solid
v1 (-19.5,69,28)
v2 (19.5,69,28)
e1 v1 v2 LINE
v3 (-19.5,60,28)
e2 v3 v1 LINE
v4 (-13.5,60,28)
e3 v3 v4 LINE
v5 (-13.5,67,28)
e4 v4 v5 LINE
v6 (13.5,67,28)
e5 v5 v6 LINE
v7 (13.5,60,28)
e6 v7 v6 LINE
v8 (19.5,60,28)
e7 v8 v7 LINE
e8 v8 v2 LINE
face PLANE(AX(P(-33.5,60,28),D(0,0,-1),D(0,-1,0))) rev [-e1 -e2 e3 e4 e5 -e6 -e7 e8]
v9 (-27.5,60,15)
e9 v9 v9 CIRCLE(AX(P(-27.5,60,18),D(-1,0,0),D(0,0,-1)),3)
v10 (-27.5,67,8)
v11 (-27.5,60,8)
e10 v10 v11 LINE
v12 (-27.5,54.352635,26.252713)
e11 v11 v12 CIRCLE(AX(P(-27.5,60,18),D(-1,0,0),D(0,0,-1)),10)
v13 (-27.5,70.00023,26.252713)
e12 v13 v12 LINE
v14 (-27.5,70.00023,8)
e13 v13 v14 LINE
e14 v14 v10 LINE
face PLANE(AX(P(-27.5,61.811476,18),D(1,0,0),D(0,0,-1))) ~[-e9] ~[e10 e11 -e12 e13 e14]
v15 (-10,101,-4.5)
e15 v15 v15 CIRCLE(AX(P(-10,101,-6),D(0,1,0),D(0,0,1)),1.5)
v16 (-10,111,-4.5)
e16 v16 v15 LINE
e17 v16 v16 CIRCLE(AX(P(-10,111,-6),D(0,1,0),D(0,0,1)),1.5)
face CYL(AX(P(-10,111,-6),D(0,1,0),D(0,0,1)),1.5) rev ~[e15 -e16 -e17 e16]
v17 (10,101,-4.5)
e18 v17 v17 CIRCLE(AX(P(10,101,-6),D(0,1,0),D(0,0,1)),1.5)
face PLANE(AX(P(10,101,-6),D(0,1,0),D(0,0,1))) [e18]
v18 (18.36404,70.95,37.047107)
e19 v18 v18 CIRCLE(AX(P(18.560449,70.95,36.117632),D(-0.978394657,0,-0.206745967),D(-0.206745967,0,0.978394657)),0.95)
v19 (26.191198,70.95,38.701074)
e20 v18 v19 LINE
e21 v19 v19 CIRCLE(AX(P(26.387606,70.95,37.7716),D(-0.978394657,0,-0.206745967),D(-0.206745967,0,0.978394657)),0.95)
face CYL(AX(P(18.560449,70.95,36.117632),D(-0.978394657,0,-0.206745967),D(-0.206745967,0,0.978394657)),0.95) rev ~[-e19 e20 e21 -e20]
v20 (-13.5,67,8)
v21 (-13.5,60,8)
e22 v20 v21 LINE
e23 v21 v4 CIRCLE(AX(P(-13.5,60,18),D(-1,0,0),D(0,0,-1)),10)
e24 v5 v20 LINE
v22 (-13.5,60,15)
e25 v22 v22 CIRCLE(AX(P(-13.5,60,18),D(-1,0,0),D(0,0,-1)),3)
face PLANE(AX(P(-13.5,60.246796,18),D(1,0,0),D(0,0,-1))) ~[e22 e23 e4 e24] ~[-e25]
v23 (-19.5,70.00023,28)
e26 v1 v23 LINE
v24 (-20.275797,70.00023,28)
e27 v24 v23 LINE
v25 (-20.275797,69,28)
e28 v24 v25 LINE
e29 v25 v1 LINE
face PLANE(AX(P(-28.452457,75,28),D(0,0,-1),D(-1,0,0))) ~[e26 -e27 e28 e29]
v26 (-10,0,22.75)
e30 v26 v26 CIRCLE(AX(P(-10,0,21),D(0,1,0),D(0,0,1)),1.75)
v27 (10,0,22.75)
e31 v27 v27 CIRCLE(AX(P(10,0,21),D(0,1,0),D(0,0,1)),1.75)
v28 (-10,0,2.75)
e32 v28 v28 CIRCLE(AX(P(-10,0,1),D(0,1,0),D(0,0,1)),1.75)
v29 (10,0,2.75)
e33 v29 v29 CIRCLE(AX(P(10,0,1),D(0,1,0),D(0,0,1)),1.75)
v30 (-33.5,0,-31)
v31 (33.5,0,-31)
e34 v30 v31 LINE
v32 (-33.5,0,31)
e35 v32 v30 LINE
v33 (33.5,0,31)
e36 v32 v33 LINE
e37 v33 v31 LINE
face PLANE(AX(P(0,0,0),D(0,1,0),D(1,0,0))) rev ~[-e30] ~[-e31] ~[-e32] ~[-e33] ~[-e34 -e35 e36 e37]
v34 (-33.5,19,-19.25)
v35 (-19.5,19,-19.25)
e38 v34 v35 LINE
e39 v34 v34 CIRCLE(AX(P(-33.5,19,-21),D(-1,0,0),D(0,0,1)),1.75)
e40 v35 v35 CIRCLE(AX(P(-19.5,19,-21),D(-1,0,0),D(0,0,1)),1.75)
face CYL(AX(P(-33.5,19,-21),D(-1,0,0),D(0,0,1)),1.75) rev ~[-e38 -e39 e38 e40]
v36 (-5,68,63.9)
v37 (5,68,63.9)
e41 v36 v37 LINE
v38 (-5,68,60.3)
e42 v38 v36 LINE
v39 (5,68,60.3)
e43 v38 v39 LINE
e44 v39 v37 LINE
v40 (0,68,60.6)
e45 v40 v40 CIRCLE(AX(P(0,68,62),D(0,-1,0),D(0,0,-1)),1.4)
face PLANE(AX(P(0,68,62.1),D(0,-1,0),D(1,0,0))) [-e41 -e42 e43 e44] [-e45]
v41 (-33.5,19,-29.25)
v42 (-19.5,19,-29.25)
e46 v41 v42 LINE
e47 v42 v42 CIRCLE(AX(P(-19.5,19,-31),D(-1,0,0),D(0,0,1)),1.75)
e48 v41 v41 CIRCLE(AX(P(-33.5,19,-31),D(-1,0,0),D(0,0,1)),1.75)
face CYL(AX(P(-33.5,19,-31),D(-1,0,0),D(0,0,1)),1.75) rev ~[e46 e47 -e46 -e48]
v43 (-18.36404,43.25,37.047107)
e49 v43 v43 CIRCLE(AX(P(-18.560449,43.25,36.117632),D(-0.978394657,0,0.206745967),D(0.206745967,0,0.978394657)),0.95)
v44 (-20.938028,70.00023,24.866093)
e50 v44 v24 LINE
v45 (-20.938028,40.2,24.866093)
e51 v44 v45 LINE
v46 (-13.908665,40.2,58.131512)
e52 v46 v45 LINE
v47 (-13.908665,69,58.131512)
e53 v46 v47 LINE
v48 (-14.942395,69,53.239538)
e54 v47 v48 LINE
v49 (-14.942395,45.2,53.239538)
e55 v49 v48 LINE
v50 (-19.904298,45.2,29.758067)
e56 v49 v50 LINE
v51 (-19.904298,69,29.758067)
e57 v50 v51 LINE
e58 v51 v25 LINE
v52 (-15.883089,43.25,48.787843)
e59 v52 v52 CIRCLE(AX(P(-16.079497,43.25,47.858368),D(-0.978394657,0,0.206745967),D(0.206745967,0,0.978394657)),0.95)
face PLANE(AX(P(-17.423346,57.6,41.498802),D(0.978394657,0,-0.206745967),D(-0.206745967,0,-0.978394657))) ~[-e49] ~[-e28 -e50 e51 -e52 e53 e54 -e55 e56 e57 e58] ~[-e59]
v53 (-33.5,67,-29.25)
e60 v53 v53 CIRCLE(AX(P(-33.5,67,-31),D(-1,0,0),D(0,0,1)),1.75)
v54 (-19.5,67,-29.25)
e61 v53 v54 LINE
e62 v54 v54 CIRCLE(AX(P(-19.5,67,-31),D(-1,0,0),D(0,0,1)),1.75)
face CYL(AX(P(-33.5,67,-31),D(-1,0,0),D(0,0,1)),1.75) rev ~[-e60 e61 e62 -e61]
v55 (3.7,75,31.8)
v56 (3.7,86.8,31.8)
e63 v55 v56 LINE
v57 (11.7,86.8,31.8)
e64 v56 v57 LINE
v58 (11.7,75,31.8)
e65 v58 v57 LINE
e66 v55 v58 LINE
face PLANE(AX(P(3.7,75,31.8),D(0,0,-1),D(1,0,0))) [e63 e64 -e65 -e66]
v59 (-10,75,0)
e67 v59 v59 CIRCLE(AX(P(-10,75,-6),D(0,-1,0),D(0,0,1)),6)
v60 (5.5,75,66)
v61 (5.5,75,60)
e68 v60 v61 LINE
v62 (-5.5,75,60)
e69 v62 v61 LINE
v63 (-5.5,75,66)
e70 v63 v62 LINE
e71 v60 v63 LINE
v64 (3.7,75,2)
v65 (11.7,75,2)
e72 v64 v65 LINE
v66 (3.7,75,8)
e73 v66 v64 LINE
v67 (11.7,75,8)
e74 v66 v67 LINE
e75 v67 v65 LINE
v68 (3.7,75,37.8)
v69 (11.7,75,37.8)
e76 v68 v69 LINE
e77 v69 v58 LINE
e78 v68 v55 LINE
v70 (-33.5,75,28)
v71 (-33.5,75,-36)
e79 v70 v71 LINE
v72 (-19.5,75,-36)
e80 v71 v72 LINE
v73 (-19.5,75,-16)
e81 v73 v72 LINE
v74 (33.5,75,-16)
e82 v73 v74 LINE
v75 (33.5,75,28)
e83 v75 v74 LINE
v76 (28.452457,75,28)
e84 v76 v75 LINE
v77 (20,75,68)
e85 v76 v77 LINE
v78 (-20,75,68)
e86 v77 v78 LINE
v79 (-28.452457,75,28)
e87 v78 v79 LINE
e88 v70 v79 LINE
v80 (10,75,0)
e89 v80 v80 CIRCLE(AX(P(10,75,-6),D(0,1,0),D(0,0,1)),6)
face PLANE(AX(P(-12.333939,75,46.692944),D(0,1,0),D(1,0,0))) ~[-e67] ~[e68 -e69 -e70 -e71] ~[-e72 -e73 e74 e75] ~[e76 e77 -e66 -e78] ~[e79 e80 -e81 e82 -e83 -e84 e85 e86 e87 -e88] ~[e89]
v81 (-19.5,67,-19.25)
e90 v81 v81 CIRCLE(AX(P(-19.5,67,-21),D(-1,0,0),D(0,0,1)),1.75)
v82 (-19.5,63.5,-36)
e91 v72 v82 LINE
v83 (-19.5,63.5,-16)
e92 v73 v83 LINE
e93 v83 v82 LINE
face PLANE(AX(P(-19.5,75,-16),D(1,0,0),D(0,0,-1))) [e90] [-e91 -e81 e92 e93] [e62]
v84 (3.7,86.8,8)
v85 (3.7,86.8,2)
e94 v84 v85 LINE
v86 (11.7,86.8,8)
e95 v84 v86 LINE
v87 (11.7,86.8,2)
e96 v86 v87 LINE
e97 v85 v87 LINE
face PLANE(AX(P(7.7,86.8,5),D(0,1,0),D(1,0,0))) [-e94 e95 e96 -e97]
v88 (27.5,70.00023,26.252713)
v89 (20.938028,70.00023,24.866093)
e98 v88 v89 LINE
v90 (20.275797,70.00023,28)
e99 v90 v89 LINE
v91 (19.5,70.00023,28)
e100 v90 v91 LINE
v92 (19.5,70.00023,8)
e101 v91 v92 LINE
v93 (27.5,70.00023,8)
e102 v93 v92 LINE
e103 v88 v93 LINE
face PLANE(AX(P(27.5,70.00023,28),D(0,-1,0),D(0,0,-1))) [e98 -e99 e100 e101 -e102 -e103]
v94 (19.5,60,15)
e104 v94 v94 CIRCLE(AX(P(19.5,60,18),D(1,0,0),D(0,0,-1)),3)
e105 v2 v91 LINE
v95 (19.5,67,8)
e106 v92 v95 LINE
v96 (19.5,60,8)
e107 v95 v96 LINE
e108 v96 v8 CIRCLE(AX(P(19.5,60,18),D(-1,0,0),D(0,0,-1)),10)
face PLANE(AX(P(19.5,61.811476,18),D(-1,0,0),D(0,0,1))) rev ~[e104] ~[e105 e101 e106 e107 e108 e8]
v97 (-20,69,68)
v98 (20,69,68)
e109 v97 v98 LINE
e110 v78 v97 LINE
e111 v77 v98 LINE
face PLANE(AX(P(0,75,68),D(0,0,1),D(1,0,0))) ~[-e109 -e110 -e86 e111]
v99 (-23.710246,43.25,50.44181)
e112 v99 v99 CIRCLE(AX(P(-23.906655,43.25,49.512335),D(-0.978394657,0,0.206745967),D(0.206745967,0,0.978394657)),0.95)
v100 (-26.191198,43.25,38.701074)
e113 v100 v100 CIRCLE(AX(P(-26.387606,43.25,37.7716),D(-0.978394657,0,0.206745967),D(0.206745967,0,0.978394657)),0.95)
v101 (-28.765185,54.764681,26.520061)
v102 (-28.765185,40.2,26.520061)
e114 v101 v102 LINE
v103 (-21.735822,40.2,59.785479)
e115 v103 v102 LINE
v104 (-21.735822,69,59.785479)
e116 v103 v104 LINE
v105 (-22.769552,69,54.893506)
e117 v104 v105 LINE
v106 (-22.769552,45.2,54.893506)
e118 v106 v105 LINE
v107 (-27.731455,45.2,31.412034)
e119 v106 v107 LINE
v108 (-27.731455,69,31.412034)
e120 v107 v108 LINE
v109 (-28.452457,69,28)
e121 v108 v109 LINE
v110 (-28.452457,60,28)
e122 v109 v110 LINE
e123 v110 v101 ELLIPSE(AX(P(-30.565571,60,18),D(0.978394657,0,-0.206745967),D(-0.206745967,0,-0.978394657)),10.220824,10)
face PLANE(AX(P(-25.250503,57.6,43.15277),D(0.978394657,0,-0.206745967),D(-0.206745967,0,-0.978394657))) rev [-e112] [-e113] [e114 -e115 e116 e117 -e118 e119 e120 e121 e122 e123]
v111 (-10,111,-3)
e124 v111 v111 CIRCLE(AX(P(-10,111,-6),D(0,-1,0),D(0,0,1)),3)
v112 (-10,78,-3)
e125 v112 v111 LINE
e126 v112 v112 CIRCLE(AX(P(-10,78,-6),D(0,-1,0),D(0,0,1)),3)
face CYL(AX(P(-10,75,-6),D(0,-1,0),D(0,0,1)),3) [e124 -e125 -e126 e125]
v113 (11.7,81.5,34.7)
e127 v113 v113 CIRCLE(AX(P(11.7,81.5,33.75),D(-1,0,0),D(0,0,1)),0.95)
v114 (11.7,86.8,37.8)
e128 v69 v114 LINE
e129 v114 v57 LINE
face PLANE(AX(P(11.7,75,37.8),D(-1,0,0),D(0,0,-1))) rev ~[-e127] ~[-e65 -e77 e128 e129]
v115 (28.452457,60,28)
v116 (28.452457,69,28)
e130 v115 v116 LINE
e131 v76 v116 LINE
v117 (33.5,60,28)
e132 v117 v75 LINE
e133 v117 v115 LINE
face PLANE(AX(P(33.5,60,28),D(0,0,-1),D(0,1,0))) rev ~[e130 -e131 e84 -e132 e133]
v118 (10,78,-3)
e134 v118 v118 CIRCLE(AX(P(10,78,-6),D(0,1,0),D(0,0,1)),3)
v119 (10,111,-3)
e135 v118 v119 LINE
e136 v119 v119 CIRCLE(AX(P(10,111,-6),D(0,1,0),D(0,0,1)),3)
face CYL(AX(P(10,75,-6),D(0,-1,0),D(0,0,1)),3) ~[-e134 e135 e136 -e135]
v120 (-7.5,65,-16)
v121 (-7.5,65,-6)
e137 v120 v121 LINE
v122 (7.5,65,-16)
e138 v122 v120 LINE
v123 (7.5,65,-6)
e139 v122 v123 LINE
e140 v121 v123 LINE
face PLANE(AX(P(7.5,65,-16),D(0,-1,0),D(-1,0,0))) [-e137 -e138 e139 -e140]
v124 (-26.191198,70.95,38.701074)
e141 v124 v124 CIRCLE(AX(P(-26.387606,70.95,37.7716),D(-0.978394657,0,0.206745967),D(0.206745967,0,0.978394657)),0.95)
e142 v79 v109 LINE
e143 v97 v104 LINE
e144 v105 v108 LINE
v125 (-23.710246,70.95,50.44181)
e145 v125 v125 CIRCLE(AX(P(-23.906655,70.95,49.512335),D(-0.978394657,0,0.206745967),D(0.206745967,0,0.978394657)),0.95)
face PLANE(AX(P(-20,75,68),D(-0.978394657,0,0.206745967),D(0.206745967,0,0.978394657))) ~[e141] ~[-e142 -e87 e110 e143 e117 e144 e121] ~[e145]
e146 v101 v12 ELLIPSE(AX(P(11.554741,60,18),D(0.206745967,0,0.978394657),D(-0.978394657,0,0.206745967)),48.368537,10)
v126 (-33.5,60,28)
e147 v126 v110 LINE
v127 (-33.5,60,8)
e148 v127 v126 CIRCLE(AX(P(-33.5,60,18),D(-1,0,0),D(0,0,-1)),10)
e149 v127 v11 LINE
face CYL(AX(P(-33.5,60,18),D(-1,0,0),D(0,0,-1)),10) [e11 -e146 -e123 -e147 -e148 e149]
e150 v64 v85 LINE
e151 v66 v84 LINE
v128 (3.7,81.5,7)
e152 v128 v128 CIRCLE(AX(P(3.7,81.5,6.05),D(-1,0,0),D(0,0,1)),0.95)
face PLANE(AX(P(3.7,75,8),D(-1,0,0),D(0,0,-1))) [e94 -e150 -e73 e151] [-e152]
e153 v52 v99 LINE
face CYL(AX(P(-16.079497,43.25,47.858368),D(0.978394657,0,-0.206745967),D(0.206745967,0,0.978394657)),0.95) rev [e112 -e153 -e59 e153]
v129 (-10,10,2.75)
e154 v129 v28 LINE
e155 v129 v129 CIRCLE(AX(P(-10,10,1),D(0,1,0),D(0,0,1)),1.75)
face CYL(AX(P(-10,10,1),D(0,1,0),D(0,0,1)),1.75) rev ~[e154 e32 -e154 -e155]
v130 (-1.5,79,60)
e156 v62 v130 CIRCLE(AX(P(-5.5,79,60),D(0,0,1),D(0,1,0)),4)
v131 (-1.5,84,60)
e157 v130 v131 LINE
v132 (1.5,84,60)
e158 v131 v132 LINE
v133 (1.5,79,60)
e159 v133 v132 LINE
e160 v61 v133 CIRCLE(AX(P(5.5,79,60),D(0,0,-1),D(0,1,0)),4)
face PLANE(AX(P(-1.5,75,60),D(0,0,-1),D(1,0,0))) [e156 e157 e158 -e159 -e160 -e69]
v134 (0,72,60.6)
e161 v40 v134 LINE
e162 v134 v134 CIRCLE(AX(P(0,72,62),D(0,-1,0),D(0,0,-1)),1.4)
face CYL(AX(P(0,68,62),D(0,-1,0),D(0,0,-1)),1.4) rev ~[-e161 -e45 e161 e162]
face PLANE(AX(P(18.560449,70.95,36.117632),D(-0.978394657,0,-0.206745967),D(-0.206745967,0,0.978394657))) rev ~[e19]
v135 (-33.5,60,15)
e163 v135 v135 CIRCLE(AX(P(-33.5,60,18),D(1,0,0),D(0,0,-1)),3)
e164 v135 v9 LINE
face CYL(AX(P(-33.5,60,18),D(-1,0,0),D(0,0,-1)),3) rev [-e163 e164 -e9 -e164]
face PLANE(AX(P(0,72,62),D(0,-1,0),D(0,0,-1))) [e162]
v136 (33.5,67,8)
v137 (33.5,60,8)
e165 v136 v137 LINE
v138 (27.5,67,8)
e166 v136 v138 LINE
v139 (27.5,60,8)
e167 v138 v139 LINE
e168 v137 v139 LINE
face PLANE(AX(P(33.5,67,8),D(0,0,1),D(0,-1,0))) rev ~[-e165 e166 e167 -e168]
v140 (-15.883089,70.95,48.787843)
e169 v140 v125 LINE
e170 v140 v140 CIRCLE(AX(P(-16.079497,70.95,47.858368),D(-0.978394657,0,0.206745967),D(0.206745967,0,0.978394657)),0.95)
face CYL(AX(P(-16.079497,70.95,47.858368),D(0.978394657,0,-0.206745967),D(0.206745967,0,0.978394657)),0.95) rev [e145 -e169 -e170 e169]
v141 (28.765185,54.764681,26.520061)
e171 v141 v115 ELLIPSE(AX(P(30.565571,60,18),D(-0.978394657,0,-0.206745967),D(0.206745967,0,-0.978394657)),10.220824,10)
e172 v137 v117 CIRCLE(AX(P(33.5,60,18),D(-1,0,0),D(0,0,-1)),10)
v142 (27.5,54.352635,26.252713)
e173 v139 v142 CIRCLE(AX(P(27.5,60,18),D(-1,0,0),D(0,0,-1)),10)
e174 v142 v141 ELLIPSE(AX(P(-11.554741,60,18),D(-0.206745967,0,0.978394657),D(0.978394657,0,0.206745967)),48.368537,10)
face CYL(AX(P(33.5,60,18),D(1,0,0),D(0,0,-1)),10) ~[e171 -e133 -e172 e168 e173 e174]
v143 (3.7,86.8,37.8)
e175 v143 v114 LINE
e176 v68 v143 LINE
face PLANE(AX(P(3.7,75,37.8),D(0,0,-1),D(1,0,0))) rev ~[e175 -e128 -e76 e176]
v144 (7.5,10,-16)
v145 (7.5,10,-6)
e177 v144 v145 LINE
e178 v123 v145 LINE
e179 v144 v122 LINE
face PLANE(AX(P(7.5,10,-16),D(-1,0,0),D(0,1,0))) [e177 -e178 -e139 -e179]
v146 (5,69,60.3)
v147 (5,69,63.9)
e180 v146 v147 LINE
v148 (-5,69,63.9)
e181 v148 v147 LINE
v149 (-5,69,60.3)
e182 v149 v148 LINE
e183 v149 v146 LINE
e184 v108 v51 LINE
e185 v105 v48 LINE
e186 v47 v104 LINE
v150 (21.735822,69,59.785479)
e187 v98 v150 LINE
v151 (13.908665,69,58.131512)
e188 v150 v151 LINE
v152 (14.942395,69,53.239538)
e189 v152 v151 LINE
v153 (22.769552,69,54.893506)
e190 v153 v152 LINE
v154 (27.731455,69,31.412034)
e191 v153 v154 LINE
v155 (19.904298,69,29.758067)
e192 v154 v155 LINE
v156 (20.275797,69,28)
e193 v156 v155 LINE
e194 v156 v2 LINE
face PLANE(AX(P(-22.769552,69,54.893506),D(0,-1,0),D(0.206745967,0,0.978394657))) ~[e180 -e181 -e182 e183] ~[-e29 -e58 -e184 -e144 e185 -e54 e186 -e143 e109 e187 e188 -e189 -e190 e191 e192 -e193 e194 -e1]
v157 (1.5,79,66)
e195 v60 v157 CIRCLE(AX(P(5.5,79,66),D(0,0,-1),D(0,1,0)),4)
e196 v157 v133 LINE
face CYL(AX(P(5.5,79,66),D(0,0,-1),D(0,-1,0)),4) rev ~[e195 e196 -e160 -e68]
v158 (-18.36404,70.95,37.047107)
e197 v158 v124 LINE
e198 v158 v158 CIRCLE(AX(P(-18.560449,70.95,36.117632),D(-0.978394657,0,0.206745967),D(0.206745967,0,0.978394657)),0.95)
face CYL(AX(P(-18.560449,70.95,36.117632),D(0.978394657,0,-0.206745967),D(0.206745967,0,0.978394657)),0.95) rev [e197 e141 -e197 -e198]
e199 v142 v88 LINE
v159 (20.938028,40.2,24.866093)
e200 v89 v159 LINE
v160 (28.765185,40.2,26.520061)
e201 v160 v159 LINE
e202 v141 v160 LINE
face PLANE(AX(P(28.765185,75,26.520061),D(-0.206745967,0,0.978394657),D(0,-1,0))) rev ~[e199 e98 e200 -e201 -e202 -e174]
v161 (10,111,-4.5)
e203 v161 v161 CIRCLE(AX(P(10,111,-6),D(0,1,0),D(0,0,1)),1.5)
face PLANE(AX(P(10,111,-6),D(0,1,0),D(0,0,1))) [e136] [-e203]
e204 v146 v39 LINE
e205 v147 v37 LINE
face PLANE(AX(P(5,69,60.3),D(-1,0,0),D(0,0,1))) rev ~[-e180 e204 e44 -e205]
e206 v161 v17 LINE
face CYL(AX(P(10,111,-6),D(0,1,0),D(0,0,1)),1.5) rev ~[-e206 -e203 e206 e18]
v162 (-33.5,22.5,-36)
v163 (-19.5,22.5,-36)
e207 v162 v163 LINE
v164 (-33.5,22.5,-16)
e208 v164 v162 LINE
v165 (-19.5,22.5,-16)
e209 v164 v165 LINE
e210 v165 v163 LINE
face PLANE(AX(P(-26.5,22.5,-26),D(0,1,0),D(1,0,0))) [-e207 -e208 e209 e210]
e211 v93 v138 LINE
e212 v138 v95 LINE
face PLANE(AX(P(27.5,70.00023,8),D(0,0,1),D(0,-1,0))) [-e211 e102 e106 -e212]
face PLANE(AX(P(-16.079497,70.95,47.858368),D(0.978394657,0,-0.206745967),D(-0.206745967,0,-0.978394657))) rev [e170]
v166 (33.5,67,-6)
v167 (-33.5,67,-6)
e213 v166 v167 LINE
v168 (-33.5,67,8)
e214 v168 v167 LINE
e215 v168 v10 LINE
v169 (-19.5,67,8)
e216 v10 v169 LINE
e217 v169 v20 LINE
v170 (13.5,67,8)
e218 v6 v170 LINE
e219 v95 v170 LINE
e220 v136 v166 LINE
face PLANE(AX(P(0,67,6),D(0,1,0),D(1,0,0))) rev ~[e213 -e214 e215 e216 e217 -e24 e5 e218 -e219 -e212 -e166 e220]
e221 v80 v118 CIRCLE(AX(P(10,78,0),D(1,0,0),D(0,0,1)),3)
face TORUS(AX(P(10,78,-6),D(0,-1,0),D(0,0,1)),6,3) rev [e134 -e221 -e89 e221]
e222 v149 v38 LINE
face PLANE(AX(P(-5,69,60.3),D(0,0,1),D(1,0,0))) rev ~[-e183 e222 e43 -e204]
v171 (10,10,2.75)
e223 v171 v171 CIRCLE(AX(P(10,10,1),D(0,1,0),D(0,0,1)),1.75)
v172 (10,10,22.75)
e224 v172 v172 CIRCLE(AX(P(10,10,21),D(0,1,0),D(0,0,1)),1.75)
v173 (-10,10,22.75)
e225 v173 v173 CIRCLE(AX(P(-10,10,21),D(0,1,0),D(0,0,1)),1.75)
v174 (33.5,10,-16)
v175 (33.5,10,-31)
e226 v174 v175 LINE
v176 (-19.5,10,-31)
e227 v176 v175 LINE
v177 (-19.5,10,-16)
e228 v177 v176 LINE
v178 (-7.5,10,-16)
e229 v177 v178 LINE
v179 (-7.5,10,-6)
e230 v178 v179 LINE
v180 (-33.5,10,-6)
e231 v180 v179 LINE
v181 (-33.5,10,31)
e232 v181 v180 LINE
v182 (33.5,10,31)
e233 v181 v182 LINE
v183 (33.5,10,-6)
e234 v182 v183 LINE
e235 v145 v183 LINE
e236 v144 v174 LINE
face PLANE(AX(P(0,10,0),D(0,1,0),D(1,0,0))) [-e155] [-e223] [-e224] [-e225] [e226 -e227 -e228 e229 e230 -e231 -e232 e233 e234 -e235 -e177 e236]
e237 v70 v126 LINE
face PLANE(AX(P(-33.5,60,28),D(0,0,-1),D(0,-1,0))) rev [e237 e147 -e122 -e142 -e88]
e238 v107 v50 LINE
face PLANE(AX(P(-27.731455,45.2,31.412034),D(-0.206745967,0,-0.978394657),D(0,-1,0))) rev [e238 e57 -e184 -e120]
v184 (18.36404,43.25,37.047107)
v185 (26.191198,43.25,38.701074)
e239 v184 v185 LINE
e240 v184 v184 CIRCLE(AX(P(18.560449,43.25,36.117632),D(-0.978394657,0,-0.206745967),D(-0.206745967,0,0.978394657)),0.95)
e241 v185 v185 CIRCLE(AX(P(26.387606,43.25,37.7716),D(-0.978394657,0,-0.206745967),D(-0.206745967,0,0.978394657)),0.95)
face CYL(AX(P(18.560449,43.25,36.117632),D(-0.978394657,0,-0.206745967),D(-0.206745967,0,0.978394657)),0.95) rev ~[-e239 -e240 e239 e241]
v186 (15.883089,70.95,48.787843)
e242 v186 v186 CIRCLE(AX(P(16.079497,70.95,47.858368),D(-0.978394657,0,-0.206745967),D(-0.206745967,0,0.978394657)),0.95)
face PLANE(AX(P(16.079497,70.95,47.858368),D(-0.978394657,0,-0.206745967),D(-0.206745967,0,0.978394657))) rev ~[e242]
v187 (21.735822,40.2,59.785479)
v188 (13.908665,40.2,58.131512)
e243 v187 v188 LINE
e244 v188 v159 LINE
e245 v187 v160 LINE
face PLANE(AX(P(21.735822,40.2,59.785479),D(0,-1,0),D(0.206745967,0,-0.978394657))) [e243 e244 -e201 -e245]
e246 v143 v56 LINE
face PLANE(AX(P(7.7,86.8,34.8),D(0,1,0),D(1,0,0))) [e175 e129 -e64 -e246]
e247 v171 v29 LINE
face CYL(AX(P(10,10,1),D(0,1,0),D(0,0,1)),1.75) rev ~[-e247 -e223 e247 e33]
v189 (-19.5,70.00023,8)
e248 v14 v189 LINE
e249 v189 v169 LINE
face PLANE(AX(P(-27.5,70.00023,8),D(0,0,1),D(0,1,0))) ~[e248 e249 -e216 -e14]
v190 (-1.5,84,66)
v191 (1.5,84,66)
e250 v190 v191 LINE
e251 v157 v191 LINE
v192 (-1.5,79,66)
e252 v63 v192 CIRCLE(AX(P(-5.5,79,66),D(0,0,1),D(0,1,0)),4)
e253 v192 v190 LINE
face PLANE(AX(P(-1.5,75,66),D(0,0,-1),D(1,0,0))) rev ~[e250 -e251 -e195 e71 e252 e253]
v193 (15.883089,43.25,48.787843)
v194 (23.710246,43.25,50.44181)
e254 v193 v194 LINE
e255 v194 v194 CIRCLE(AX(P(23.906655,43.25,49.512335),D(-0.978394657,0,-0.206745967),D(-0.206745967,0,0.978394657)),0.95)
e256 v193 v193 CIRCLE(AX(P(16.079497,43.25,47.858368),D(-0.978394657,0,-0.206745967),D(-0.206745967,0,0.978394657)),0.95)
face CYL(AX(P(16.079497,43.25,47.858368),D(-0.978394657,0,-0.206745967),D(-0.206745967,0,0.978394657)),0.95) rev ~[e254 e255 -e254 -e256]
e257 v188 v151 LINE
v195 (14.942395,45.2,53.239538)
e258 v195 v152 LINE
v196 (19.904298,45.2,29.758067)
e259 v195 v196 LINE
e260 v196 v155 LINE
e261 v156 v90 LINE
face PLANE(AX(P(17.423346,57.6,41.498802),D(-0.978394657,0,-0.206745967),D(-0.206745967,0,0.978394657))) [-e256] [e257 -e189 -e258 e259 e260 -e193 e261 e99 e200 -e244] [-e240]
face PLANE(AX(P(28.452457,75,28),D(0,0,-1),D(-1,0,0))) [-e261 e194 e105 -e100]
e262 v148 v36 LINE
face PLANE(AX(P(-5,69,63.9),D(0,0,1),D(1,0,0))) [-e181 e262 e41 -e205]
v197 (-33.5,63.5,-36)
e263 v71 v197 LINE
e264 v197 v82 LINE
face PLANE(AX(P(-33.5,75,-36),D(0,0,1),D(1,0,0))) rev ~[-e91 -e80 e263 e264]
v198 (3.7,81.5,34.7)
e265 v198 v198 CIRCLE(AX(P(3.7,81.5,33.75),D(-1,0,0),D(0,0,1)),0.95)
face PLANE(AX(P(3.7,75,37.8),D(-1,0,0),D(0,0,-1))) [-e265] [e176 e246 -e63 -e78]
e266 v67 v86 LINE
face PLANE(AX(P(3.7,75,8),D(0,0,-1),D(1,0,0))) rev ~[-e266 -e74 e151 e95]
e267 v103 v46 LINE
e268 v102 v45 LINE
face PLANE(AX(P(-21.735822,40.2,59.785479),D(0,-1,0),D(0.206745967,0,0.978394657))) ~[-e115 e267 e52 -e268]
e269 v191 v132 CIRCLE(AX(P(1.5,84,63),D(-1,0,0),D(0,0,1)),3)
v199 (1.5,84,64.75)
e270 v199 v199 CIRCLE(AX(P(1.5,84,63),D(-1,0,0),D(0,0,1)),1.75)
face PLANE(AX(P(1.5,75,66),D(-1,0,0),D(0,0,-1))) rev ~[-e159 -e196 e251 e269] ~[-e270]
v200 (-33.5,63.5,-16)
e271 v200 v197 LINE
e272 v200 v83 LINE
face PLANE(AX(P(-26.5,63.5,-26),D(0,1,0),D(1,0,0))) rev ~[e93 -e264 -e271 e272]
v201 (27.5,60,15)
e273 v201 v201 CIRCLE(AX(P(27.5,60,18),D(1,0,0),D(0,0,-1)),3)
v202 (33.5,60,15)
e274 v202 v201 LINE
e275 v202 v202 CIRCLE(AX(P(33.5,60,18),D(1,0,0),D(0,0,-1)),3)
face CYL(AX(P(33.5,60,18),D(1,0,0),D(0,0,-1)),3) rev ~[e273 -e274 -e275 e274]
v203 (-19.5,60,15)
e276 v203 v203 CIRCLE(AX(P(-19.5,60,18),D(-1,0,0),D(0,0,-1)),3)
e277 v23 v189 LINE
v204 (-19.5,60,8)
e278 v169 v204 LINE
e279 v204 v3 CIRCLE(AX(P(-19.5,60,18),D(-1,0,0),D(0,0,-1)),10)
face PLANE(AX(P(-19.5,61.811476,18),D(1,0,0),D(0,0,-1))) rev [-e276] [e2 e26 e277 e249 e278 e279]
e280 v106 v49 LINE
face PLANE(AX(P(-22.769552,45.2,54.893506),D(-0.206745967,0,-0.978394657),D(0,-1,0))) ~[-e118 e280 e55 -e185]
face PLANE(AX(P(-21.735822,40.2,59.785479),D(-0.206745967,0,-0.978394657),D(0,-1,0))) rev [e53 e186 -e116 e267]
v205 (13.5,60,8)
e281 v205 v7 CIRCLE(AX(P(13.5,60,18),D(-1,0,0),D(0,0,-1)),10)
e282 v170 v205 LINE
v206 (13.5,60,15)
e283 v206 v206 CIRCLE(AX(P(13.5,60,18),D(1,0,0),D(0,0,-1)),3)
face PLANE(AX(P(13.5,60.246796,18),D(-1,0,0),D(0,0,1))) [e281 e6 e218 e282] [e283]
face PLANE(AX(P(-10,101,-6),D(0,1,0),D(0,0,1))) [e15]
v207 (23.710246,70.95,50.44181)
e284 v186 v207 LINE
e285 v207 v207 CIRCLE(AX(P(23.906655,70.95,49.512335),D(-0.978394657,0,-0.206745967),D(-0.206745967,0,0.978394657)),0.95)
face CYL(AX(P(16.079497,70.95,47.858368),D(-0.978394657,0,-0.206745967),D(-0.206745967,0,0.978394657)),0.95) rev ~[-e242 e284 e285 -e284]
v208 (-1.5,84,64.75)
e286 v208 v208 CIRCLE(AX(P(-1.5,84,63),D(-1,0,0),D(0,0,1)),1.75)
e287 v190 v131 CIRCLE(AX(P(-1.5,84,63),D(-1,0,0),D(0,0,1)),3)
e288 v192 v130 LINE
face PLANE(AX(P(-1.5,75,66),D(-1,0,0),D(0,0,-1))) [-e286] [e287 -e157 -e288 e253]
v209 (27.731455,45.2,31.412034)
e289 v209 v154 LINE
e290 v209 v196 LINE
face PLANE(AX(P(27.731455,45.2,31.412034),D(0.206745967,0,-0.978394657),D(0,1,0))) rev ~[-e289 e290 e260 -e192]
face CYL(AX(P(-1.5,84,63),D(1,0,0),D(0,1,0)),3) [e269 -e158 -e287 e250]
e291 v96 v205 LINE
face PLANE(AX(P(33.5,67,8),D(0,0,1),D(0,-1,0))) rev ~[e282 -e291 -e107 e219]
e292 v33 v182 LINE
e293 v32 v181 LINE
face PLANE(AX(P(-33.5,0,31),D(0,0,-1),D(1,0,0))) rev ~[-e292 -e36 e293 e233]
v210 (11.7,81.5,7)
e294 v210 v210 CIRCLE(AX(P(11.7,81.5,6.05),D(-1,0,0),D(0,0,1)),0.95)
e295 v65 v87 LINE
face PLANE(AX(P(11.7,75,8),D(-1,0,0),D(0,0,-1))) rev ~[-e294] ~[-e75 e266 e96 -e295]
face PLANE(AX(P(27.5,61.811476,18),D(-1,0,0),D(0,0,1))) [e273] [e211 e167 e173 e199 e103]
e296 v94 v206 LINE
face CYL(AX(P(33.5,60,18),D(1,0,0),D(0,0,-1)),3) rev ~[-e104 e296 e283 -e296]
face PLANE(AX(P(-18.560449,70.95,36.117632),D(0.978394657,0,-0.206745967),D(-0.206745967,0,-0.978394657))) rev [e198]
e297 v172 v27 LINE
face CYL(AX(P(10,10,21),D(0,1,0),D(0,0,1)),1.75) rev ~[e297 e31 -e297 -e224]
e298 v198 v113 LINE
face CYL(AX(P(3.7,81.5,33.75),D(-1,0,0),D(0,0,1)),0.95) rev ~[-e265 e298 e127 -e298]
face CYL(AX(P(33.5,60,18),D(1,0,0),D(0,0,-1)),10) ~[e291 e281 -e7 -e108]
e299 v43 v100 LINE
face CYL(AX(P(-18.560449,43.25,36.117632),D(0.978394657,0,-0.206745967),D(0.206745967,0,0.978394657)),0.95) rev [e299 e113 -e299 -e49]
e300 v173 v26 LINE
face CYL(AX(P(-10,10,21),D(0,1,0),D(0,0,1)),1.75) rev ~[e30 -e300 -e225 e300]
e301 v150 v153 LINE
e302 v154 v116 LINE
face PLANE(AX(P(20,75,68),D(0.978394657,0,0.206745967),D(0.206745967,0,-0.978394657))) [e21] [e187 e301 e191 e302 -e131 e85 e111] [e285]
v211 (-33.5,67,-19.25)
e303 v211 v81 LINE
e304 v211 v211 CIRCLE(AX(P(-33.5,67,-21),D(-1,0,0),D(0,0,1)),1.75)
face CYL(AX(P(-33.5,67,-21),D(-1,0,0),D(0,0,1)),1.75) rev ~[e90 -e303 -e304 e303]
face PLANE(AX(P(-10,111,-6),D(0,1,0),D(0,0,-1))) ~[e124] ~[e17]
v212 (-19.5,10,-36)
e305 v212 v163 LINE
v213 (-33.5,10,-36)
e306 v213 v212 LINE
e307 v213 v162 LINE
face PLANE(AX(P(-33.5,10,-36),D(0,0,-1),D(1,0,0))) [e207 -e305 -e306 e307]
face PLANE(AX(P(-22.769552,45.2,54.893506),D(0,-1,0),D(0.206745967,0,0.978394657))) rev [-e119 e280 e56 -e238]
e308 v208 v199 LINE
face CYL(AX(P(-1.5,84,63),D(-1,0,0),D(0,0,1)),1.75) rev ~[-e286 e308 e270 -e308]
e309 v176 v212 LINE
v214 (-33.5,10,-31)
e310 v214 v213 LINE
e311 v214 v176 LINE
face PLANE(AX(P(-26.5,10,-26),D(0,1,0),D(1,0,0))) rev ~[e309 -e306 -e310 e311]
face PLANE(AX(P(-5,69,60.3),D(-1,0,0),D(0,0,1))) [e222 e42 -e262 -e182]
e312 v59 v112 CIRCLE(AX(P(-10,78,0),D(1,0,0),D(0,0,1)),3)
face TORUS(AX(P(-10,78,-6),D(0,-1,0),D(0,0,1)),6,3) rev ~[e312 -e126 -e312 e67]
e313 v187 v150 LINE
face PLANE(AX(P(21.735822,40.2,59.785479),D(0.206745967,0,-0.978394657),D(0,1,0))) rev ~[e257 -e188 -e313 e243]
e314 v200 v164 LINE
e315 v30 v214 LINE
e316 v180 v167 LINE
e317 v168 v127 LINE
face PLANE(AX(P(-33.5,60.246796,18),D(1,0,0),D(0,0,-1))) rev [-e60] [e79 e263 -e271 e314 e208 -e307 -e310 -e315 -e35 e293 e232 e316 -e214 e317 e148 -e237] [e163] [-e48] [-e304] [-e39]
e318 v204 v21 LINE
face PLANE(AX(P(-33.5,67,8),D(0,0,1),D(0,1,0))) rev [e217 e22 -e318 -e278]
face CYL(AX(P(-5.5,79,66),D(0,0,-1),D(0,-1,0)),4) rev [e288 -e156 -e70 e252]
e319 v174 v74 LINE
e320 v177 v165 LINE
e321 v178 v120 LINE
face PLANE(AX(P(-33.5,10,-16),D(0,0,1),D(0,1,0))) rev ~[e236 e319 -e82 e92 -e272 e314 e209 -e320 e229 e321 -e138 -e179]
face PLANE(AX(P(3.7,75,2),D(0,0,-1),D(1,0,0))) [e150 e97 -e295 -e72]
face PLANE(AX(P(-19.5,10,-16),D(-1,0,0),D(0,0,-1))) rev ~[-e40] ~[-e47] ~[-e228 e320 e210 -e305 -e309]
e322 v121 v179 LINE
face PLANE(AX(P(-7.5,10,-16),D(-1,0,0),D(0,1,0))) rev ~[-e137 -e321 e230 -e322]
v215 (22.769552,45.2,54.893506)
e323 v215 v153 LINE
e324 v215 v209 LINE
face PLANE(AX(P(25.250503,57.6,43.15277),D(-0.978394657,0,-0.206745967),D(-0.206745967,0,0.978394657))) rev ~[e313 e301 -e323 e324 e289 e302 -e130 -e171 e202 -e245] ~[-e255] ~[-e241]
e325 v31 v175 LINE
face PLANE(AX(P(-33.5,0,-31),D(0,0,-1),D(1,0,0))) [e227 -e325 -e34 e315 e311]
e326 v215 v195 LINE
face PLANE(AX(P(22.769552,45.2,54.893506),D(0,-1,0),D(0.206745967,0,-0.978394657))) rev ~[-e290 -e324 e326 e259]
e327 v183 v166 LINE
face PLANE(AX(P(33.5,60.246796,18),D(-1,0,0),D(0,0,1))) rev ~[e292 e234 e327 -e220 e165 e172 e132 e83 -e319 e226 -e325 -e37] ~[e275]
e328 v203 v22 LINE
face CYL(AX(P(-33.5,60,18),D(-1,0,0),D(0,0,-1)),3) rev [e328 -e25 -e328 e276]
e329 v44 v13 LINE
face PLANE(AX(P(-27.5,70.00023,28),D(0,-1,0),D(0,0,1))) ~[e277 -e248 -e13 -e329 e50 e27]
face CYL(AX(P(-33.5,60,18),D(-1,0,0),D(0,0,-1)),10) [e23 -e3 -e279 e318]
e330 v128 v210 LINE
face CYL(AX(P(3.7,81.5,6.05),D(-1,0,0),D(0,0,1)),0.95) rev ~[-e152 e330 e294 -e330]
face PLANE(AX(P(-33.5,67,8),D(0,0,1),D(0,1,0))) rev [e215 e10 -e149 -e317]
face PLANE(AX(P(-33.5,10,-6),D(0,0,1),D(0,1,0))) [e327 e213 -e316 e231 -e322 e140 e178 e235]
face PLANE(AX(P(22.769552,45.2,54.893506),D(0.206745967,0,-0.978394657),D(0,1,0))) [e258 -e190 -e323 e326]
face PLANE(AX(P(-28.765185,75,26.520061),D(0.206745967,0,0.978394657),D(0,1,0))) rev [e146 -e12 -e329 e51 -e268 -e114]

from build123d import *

# Parameters (mm, degrees)
SKETCH_1_W             = 67
SKETCH_1_H             = 62
EXTRUDE_1_DEPTH        = 10
SKETCH_3_W             = 14
SKETCH_3_H             = 20
EXTRUDE_2_DEPTH        = 12.5
SKETCH_4_W             = 10
SKETCH_4_H             = 65
EXTRUDE_3_DEPTH        = 67
SKETCH_5_W             = 67
SKETCH_5_H             = 44
EXTRUDE_4_DEPTH        = 8
EXTRUDE_5_DEPTH        = 20
CUT_EXTRUDE_START      = -6
CUT_EXTRUDE_1_DEPTH    = 8
EXTRUDE_6_DEPTH        = 6
SKETCH_9_R             = 3
CUT_EXTRUDE_2_DEPTH    = 23
SKETCH_10_W            = 24
SKETCH_10_H            = 23.8
EXTRUDE_7_DEPTH        = 8
SKETCH_12_W            = 14
SKETCH_12_H            = 20
EXTRUDE_8_DEPTH        = 11.5
SKETCH_13_R            = 0.95
CUT_EXTRUDE_4_DEPTH    = 8
SKETCH_14_W            = 8
SKETCH_14_H            = 6
EXTRUDE_9_DEPTH        = 11.8
SKETCH_15_R            = 0.95
CUT_EXTRUDE_5_DEPTH    = 11.8
SKETCH_16_W            = 3
SKETCH_16_H            = 6
EXTRUDE_10_DEPTH       = 12
FILLET_1_RADIUS        = 3
FILLET_1_LENGTH        = 3
SKETCH_17_R            = 1.75
CUT_EXTRUDE_6_DEPTH    = 7
SKETCH_18_R            = 3
EXTRUDE_11_DEPTH       = 36
FILLET_2_R             = 3
FILLET_2_OF_MIRROR_1_R = 3
SKETCH_20_R            = 1.75
CUT_EXTRUDE_7_DEPTH    = 35
SKETCH_21_W            = 15
SKETCH_21_H            = 55
CUT_EXTRUDE_8_DEPTH    = 35
SKETCH_24_R            = 1.75
CUT_EXTRUDE_11_DEPTH   = 18
SKETCH_25_R            = 1.5
CUT_EXTRUDE_12_DEPTH   = 10
FILLET_3_R             = 4
SKETCH_26_W            = 10
SKETCH_26_H            = 3.6
EXTRUDE_12_DEPTH       = 1
SKETCH_27_R            = 1.4
CUT_EXTRUDE_13_DEPTH   = 4


with BuildPart() as part:
    # 草图1 → 凸台-拉伸1 (new body)
    with BuildSketch(Plane(origin=(0, 0, 0), x_dir=(1, 0, 0), z_dir=(0, 1, 0))):
        Rectangle(SKETCH_1_W, SKETCH_1_H)
    extrude(amount=EXTRUDE_1_DEPTH)

    # 草图3 → 凸台-拉伸2 (add)
    with BuildSketch(Plane(origin=(0, 10, 0), x_dir=(1, 0, 0), z_dir=(0, 1, 0))):
        with Locations((-26.5, 26)):
            Rectangle(SKETCH_3_W, SKETCH_3_H)
    extrude(amount=EXTRUDE_2_DEPTH)

    # 草图4 → 凸台-拉伸3 (add)
    with BuildSketch(Plane.ZY.offset(33.5)):
        with Locations((-11, 42.5)):
            Rectangle(SKETCH_4_W, SKETCH_4_H)
    extrude(amount=-EXTRUDE_3_DEPTH)

    # 草图5 → 凸台-拉伸4 (add)
    with BuildSketch(Plane(origin=(0, 75, 0), x_dir=(1, 0, 0), z_dir=(0, 1, 0))):
        with Locations((0, -6)):
            Rectangle(SKETCH_5_W, SKETCH_5_H)
    extrude(amount=-EXTRUDE_4_DEPTH)

    # 草图6 → 凸台-拉伸5 (add)
    with BuildSketch(Plane(origin=(33.5, 0, 0), x_dir=(0, 0, -1), z_dir=(1, 0, 0))):
        with BuildLine():
            Line((-28, 60), (-28, 67))
            Line((-28, 67), (-8, 67))
            Line((-8, 67), (-8, 60))
            ThreePointArc((-8, 60), (-18, 50), (-28, 60))
        make_face()
    extrude_5 = extrude(amount=-EXTRUDE_5_DEPTH)

    # 草图7 → 切除-拉伸1 (cut)
    with BuildSketch(Plane(origin=(33.5, 0, 0), x_dir=(0, 0, -1), z_dir=(1, 0, 0)).offset(CUT_EXTRUDE_START)):
        with BuildLine():
            Line((-28, 60), (-28, 70.000230089))
            Line((-28, 70.000230089), (-8, 70.000230089))
            Line((-8, 70.000230089), (-8, 60))
            ThreePointArc((-8, 60), (-18, 50), (-28, 60))
        make_face()
    cut_extrude_1 = extrude(amount=-CUT_EXTRUDE_1_DEPTH, mode=Mode.SUBTRACT)

    # 草图8 → 凸台-拉伸6 (add)
    with BuildSketch(Plane(origin=(0, 75, 0), x_dir=(1, 0, 0), z_dir=(0, 1, 0))):
        Polygon((0, -68), (20, -68), (28.452456914, -28), (0, -28), align=None)
    extrude_6 = extrude(amount=-EXTRUDE_6_DEPTH)

    # 草图9 → 切除-拉伸2 (cut)
    with BuildSketch(Plane(origin=(33.5, 0, 0), x_dir=(0, 0, -1), z_dir=(1, 0, 0))):
        with Locations((-18, 60)):
            Circle(SKETCH_9_R)
    cut_extrude_2 = extrude(amount=-CUT_EXTRUDE_2_DEPTH, mode=Mode.SUBTRACT)

    # 草图10 → 凸台-拉伸7 (add)
    with BuildSketch(Plane(origin=(32.900104274, 0, 6.952167846), x_dir=(0.20674596709610937, 0, -0.9783946571243602), z_dir=(0.9783946571243602, 0, 0.20674596709610937))):
        Polygon((-49, 75), (-20, 75), (-20, 40.2), (-48, 40.2), (-54, 40.2), (-54, 75), align=None)
        with Locations((-37, 57.1)):
            Rectangle(SKETCH_10_W, SKETCH_10_H, mode=Mode.SUBTRACT)
    extrude_7 = extrude(amount=-EXTRUDE_7_DEPTH)

    # 草图12 → 凸台-拉伸8 (add)
    with BuildSketch(Plane(origin=(0, 75, 0), x_dir=(1, 0, 0), z_dir=(0, 1, 0))):
        with Locations((-26.5, 26)):
            Rectangle(SKETCH_12_W, SKETCH_12_H)
    extrude(amount=-EXTRUDE_8_DEPTH)

    # 草图13 → 切除-拉伸4 (cut)
    with BuildSketch(Plane(origin=(25.072947017, 0, 5.298200109), x_dir=(-0.20674596709610943, 0, 0.9783946571243602), z_dir=(-0.9783946571243602, 0, -0.20674596709610943))):
        with Locations((43.5, 70.95)):
            Circle(SKETCH_13_R)
        with Locations((31.5, 70.95)):
            Circle(SKETCH_13_R)
        with Locations((31.5, 43.25)):
            Circle(SKETCH_13_R)
        with Locations((43.5, 43.25)):
            Circle(SKETCH_13_R)
    cut_extrude_4 = extrude(amount=-CUT_EXTRUDE_4_DEPTH, mode=Mode.SUBTRACT)

    # 草图14 → 凸台-拉伸9 (add)
    with BuildSketch(Plane(origin=(0, 75, 0), x_dir=(1, 0, 0), z_dir=(0, 1, 0))):
        with Locations((7.7, -5)):
            Rectangle(SKETCH_14_W, SKETCH_14_H)
        with Locations((7.7, -34.8)):
            Rectangle(SKETCH_14_W, SKETCH_14_H)
    extrude(amount=EXTRUDE_9_DEPTH)

    # 草图15 → 切除-拉伸5 (cut)
    with BuildSketch(Plane.ZY.offset(-3.7)):
        with Locations((33.75, 81.5)):
            Circle(SKETCH_15_R)
        with Locations((6.05, 81.5)):
            Circle(SKETCH_15_R)
    extrude(amount=-CUT_EXTRUDE_5_DEPTH, mode=Mode.SUBTRACT)

    # 草图16 → 凸台-拉伸10 (add)
    with BuildSketch(Plane(origin=(0, 75, 0), x_dir=(1, 0, 0), z_dir=(0, 1, 0))):
        with Locations((0, -63)):
            Rectangle(SKETCH_16_W, SKETCH_16_H)
    extrude(amount=EXTRUDE_10_DEPTH)

    # 圆角1: full round fillet: the end face becomes a half cylinder, R = half its width
    fillet_1_face = Plane((0, 87, 63), x_dir=(1, 0, 0), z_dir=(0, 1, 0))  # on the end face: x along it, z out of the body
    fillet_1_slab = fillet_1_face.offset(-FILLET_1_RADIUS / 2) * Box(FILLET_1_LENGTH, 2 * FILLET_1_RADIUS, FILLET_1_RADIUS, mode=Mode.PRIVATE)  # the body's end, R deep
    fillet_1_round = Plane((0, 84, 63), x_dir=(0, 1, 0), z_dir=(1, 0, 0)) * Cylinder(FILLET_1_RADIUS, FILLET_1_LENGTH, mode=Mode.PRIVATE)  # its axis R under the face
    add(fillet_1_slab - fillet_1_round, mode=Mode.SUBTRACT)

    # 草图17 → 切除-拉伸6 (cut)
    with BuildSketch(Plane.ZY.offset(1.5)):
        with Locations((63, 84)):
            Circle(SKETCH_17_R)
    extrude(amount=-CUT_EXTRUDE_6_DEPTH, mode=Mode.SUBTRACT)

    # 草图18 → 凸台-拉伸11 (add)
    with BuildSketch(Plane(origin=(0, 75, 0), x_dir=(1, 0, 0), z_dir=(0, 1, 0))):
        with Locations(Location((10, 6, 0), (0, 0, 270))):
            Circle(SKETCH_18_R)
    extrude_11 = extrude(amount=EXTRUDE_11_DEPTH)

    # 圆角2
    fillet_2_edges = [part.edges().sort_by_distance(p)[0] for p in [
        (10, 75, -9),
    ]]
    fillet(fillet_2_edges, radius=FILLET_2_R)

    # 镜向1: 凸台-拉伸5, 切除-拉伸1, 凸台-拉伸6, 切除-拉伸2, 凸台-拉伸7, 切除-拉伸4, 凸台-拉伸11 across plane
    add(extrude_5.mirror(Plane(origin=(0, 0, 0), x_dir=(0, 0, 1), z_dir=(1, 0, 0))))
    add(cut_extrude_1.mirror(Plane(origin=(0, 0, 0), x_dir=(0, 0, 1), z_dir=(1, 0, 0))), mode=Mode.SUBTRACT)
    add(extrude_6.mirror(Plane(origin=(0, 0, 0), x_dir=(0, 0, 1), z_dir=(1, 0, 0))))
    add(cut_extrude_2.mirror(Plane(origin=(0, 0, 0), x_dir=(0, 0, 1), z_dir=(1, 0, 0))), mode=Mode.SUBTRACT)
    add(extrude_7.mirror(Plane(origin=(0, 0, 0), x_dir=(0, 0, 1), z_dir=(1, 0, 0))))
    add(cut_extrude_4.mirror(Plane(origin=(0, 0, 0), x_dir=(0, 0, 1), z_dir=(1, 0, 0))), mode=Mode.SUBTRACT)
    add(extrude_11.mirror(Plane(origin=(0, 0, 0), x_dir=(0, 0, 1), z_dir=(1, 0, 0))))

    # 圆角2 of 镜向1
    fillet_2_of_mirror_1_edges = [part.edges().sort_by_distance(p)[0] for p in [
        (-10, 75, -9),
    ]]
    fillet(fillet_2_of_mirror_1_edges, radius=FILLET_2_OF_MIRROR_1_R)

    # 草图20 → 切除-拉伸7 (cut)
    with BuildSketch(Plane.ZY.offset(33.5)):
        with Locations((-31, 67)):
            Circle(SKETCH_20_R)
        with Locations((-21, 67)):
            Circle(SKETCH_20_R)
        with Locations((-31, 19)):
            Circle(SKETCH_20_R)
        with Locations((-21, 19)):
            Circle(SKETCH_20_R)
    extrude(amount=-CUT_EXTRUDE_7_DEPTH, mode=Mode.SUBTRACT)

    # 草图21 → 切除-拉伸8 (cut)
    with BuildSketch(Plane(origin=(0, 0, -16), x_dir=(-1, 0, 0), z_dir=(0, 0, -1))):
        with Locations((0, 37.5)):
            Rectangle(SKETCH_21_W, SKETCH_21_H)
    extrude(amount=-CUT_EXTRUDE_8_DEPTH, mode=Mode.SUBTRACT)

    # 草图24 → 切除-拉伸11 (cut)
    with BuildSketch(Plane(origin=(0, 10, 0), x_dir=(1, 0, 0), z_dir=(0, 1, 0))):
        with Locations(Location((-10, -21, 0), (0, 0, 270))):
            Circle(SKETCH_24_R)
        with Locations(Location((10, -21, 0), (0, 0, 270))):
            Circle(SKETCH_24_R)
        with Locations(Location((-10, -1, 0), (0, 0, 270))):
            Circle(SKETCH_24_R)
        with Locations(Location((10, -1, 0), (0, 0, 270))):
            Circle(SKETCH_24_R)
    extrude(amount=-CUT_EXTRUDE_11_DEPTH, mode=Mode.SUBTRACT)

    # 草图25 → 切除-拉伸12 (cut)
    with BuildSketch(Plane(origin=(0, 111, 0), x_dir=(1, 0, 0), z_dir=(0, 1, 0))):
        with Locations(Location((10, 6, 0), (0, 0, 270))):
            Circle(SKETCH_25_R)
        with Locations(Location((-10, 6, 0), (0, 0, 270))):
            Circle(SKETCH_25_R)
    extrude(amount=-CUT_EXTRUDE_12_DEPTH, mode=Mode.SUBTRACT)

    # 圆角3
    fillet_3_edges = [part.edges().sort_by_distance(p)[0] for p in [
        (-1.5, 75, 63),
        (1.5, 75, 63),
    ]]
    fillet(fillet_3_edges, radius=FILLET_3_R)

    # 草图26 → 凸台-拉伸12 (add)
    with BuildSketch(Plane.XZ.offset(-69)):
        with Locations((0, 62.1)):
            Rectangle(SKETCH_26_W, SKETCH_26_H)
    extrude(amount=EXTRUDE_12_DEPTH)

    # 草图27 → 切除-拉伸13 (cut)
    with BuildSketch(Plane.XZ.offset(-68)):
        with Locations(Location((0, 62, 0), (0, 0, 270))):
            Circle(SKETCH_27_R)
    extrude(amount=-CUT_EXTRUDE_13_DEPTH, mode=Mode.SUBTRACT)


solid = part.part
